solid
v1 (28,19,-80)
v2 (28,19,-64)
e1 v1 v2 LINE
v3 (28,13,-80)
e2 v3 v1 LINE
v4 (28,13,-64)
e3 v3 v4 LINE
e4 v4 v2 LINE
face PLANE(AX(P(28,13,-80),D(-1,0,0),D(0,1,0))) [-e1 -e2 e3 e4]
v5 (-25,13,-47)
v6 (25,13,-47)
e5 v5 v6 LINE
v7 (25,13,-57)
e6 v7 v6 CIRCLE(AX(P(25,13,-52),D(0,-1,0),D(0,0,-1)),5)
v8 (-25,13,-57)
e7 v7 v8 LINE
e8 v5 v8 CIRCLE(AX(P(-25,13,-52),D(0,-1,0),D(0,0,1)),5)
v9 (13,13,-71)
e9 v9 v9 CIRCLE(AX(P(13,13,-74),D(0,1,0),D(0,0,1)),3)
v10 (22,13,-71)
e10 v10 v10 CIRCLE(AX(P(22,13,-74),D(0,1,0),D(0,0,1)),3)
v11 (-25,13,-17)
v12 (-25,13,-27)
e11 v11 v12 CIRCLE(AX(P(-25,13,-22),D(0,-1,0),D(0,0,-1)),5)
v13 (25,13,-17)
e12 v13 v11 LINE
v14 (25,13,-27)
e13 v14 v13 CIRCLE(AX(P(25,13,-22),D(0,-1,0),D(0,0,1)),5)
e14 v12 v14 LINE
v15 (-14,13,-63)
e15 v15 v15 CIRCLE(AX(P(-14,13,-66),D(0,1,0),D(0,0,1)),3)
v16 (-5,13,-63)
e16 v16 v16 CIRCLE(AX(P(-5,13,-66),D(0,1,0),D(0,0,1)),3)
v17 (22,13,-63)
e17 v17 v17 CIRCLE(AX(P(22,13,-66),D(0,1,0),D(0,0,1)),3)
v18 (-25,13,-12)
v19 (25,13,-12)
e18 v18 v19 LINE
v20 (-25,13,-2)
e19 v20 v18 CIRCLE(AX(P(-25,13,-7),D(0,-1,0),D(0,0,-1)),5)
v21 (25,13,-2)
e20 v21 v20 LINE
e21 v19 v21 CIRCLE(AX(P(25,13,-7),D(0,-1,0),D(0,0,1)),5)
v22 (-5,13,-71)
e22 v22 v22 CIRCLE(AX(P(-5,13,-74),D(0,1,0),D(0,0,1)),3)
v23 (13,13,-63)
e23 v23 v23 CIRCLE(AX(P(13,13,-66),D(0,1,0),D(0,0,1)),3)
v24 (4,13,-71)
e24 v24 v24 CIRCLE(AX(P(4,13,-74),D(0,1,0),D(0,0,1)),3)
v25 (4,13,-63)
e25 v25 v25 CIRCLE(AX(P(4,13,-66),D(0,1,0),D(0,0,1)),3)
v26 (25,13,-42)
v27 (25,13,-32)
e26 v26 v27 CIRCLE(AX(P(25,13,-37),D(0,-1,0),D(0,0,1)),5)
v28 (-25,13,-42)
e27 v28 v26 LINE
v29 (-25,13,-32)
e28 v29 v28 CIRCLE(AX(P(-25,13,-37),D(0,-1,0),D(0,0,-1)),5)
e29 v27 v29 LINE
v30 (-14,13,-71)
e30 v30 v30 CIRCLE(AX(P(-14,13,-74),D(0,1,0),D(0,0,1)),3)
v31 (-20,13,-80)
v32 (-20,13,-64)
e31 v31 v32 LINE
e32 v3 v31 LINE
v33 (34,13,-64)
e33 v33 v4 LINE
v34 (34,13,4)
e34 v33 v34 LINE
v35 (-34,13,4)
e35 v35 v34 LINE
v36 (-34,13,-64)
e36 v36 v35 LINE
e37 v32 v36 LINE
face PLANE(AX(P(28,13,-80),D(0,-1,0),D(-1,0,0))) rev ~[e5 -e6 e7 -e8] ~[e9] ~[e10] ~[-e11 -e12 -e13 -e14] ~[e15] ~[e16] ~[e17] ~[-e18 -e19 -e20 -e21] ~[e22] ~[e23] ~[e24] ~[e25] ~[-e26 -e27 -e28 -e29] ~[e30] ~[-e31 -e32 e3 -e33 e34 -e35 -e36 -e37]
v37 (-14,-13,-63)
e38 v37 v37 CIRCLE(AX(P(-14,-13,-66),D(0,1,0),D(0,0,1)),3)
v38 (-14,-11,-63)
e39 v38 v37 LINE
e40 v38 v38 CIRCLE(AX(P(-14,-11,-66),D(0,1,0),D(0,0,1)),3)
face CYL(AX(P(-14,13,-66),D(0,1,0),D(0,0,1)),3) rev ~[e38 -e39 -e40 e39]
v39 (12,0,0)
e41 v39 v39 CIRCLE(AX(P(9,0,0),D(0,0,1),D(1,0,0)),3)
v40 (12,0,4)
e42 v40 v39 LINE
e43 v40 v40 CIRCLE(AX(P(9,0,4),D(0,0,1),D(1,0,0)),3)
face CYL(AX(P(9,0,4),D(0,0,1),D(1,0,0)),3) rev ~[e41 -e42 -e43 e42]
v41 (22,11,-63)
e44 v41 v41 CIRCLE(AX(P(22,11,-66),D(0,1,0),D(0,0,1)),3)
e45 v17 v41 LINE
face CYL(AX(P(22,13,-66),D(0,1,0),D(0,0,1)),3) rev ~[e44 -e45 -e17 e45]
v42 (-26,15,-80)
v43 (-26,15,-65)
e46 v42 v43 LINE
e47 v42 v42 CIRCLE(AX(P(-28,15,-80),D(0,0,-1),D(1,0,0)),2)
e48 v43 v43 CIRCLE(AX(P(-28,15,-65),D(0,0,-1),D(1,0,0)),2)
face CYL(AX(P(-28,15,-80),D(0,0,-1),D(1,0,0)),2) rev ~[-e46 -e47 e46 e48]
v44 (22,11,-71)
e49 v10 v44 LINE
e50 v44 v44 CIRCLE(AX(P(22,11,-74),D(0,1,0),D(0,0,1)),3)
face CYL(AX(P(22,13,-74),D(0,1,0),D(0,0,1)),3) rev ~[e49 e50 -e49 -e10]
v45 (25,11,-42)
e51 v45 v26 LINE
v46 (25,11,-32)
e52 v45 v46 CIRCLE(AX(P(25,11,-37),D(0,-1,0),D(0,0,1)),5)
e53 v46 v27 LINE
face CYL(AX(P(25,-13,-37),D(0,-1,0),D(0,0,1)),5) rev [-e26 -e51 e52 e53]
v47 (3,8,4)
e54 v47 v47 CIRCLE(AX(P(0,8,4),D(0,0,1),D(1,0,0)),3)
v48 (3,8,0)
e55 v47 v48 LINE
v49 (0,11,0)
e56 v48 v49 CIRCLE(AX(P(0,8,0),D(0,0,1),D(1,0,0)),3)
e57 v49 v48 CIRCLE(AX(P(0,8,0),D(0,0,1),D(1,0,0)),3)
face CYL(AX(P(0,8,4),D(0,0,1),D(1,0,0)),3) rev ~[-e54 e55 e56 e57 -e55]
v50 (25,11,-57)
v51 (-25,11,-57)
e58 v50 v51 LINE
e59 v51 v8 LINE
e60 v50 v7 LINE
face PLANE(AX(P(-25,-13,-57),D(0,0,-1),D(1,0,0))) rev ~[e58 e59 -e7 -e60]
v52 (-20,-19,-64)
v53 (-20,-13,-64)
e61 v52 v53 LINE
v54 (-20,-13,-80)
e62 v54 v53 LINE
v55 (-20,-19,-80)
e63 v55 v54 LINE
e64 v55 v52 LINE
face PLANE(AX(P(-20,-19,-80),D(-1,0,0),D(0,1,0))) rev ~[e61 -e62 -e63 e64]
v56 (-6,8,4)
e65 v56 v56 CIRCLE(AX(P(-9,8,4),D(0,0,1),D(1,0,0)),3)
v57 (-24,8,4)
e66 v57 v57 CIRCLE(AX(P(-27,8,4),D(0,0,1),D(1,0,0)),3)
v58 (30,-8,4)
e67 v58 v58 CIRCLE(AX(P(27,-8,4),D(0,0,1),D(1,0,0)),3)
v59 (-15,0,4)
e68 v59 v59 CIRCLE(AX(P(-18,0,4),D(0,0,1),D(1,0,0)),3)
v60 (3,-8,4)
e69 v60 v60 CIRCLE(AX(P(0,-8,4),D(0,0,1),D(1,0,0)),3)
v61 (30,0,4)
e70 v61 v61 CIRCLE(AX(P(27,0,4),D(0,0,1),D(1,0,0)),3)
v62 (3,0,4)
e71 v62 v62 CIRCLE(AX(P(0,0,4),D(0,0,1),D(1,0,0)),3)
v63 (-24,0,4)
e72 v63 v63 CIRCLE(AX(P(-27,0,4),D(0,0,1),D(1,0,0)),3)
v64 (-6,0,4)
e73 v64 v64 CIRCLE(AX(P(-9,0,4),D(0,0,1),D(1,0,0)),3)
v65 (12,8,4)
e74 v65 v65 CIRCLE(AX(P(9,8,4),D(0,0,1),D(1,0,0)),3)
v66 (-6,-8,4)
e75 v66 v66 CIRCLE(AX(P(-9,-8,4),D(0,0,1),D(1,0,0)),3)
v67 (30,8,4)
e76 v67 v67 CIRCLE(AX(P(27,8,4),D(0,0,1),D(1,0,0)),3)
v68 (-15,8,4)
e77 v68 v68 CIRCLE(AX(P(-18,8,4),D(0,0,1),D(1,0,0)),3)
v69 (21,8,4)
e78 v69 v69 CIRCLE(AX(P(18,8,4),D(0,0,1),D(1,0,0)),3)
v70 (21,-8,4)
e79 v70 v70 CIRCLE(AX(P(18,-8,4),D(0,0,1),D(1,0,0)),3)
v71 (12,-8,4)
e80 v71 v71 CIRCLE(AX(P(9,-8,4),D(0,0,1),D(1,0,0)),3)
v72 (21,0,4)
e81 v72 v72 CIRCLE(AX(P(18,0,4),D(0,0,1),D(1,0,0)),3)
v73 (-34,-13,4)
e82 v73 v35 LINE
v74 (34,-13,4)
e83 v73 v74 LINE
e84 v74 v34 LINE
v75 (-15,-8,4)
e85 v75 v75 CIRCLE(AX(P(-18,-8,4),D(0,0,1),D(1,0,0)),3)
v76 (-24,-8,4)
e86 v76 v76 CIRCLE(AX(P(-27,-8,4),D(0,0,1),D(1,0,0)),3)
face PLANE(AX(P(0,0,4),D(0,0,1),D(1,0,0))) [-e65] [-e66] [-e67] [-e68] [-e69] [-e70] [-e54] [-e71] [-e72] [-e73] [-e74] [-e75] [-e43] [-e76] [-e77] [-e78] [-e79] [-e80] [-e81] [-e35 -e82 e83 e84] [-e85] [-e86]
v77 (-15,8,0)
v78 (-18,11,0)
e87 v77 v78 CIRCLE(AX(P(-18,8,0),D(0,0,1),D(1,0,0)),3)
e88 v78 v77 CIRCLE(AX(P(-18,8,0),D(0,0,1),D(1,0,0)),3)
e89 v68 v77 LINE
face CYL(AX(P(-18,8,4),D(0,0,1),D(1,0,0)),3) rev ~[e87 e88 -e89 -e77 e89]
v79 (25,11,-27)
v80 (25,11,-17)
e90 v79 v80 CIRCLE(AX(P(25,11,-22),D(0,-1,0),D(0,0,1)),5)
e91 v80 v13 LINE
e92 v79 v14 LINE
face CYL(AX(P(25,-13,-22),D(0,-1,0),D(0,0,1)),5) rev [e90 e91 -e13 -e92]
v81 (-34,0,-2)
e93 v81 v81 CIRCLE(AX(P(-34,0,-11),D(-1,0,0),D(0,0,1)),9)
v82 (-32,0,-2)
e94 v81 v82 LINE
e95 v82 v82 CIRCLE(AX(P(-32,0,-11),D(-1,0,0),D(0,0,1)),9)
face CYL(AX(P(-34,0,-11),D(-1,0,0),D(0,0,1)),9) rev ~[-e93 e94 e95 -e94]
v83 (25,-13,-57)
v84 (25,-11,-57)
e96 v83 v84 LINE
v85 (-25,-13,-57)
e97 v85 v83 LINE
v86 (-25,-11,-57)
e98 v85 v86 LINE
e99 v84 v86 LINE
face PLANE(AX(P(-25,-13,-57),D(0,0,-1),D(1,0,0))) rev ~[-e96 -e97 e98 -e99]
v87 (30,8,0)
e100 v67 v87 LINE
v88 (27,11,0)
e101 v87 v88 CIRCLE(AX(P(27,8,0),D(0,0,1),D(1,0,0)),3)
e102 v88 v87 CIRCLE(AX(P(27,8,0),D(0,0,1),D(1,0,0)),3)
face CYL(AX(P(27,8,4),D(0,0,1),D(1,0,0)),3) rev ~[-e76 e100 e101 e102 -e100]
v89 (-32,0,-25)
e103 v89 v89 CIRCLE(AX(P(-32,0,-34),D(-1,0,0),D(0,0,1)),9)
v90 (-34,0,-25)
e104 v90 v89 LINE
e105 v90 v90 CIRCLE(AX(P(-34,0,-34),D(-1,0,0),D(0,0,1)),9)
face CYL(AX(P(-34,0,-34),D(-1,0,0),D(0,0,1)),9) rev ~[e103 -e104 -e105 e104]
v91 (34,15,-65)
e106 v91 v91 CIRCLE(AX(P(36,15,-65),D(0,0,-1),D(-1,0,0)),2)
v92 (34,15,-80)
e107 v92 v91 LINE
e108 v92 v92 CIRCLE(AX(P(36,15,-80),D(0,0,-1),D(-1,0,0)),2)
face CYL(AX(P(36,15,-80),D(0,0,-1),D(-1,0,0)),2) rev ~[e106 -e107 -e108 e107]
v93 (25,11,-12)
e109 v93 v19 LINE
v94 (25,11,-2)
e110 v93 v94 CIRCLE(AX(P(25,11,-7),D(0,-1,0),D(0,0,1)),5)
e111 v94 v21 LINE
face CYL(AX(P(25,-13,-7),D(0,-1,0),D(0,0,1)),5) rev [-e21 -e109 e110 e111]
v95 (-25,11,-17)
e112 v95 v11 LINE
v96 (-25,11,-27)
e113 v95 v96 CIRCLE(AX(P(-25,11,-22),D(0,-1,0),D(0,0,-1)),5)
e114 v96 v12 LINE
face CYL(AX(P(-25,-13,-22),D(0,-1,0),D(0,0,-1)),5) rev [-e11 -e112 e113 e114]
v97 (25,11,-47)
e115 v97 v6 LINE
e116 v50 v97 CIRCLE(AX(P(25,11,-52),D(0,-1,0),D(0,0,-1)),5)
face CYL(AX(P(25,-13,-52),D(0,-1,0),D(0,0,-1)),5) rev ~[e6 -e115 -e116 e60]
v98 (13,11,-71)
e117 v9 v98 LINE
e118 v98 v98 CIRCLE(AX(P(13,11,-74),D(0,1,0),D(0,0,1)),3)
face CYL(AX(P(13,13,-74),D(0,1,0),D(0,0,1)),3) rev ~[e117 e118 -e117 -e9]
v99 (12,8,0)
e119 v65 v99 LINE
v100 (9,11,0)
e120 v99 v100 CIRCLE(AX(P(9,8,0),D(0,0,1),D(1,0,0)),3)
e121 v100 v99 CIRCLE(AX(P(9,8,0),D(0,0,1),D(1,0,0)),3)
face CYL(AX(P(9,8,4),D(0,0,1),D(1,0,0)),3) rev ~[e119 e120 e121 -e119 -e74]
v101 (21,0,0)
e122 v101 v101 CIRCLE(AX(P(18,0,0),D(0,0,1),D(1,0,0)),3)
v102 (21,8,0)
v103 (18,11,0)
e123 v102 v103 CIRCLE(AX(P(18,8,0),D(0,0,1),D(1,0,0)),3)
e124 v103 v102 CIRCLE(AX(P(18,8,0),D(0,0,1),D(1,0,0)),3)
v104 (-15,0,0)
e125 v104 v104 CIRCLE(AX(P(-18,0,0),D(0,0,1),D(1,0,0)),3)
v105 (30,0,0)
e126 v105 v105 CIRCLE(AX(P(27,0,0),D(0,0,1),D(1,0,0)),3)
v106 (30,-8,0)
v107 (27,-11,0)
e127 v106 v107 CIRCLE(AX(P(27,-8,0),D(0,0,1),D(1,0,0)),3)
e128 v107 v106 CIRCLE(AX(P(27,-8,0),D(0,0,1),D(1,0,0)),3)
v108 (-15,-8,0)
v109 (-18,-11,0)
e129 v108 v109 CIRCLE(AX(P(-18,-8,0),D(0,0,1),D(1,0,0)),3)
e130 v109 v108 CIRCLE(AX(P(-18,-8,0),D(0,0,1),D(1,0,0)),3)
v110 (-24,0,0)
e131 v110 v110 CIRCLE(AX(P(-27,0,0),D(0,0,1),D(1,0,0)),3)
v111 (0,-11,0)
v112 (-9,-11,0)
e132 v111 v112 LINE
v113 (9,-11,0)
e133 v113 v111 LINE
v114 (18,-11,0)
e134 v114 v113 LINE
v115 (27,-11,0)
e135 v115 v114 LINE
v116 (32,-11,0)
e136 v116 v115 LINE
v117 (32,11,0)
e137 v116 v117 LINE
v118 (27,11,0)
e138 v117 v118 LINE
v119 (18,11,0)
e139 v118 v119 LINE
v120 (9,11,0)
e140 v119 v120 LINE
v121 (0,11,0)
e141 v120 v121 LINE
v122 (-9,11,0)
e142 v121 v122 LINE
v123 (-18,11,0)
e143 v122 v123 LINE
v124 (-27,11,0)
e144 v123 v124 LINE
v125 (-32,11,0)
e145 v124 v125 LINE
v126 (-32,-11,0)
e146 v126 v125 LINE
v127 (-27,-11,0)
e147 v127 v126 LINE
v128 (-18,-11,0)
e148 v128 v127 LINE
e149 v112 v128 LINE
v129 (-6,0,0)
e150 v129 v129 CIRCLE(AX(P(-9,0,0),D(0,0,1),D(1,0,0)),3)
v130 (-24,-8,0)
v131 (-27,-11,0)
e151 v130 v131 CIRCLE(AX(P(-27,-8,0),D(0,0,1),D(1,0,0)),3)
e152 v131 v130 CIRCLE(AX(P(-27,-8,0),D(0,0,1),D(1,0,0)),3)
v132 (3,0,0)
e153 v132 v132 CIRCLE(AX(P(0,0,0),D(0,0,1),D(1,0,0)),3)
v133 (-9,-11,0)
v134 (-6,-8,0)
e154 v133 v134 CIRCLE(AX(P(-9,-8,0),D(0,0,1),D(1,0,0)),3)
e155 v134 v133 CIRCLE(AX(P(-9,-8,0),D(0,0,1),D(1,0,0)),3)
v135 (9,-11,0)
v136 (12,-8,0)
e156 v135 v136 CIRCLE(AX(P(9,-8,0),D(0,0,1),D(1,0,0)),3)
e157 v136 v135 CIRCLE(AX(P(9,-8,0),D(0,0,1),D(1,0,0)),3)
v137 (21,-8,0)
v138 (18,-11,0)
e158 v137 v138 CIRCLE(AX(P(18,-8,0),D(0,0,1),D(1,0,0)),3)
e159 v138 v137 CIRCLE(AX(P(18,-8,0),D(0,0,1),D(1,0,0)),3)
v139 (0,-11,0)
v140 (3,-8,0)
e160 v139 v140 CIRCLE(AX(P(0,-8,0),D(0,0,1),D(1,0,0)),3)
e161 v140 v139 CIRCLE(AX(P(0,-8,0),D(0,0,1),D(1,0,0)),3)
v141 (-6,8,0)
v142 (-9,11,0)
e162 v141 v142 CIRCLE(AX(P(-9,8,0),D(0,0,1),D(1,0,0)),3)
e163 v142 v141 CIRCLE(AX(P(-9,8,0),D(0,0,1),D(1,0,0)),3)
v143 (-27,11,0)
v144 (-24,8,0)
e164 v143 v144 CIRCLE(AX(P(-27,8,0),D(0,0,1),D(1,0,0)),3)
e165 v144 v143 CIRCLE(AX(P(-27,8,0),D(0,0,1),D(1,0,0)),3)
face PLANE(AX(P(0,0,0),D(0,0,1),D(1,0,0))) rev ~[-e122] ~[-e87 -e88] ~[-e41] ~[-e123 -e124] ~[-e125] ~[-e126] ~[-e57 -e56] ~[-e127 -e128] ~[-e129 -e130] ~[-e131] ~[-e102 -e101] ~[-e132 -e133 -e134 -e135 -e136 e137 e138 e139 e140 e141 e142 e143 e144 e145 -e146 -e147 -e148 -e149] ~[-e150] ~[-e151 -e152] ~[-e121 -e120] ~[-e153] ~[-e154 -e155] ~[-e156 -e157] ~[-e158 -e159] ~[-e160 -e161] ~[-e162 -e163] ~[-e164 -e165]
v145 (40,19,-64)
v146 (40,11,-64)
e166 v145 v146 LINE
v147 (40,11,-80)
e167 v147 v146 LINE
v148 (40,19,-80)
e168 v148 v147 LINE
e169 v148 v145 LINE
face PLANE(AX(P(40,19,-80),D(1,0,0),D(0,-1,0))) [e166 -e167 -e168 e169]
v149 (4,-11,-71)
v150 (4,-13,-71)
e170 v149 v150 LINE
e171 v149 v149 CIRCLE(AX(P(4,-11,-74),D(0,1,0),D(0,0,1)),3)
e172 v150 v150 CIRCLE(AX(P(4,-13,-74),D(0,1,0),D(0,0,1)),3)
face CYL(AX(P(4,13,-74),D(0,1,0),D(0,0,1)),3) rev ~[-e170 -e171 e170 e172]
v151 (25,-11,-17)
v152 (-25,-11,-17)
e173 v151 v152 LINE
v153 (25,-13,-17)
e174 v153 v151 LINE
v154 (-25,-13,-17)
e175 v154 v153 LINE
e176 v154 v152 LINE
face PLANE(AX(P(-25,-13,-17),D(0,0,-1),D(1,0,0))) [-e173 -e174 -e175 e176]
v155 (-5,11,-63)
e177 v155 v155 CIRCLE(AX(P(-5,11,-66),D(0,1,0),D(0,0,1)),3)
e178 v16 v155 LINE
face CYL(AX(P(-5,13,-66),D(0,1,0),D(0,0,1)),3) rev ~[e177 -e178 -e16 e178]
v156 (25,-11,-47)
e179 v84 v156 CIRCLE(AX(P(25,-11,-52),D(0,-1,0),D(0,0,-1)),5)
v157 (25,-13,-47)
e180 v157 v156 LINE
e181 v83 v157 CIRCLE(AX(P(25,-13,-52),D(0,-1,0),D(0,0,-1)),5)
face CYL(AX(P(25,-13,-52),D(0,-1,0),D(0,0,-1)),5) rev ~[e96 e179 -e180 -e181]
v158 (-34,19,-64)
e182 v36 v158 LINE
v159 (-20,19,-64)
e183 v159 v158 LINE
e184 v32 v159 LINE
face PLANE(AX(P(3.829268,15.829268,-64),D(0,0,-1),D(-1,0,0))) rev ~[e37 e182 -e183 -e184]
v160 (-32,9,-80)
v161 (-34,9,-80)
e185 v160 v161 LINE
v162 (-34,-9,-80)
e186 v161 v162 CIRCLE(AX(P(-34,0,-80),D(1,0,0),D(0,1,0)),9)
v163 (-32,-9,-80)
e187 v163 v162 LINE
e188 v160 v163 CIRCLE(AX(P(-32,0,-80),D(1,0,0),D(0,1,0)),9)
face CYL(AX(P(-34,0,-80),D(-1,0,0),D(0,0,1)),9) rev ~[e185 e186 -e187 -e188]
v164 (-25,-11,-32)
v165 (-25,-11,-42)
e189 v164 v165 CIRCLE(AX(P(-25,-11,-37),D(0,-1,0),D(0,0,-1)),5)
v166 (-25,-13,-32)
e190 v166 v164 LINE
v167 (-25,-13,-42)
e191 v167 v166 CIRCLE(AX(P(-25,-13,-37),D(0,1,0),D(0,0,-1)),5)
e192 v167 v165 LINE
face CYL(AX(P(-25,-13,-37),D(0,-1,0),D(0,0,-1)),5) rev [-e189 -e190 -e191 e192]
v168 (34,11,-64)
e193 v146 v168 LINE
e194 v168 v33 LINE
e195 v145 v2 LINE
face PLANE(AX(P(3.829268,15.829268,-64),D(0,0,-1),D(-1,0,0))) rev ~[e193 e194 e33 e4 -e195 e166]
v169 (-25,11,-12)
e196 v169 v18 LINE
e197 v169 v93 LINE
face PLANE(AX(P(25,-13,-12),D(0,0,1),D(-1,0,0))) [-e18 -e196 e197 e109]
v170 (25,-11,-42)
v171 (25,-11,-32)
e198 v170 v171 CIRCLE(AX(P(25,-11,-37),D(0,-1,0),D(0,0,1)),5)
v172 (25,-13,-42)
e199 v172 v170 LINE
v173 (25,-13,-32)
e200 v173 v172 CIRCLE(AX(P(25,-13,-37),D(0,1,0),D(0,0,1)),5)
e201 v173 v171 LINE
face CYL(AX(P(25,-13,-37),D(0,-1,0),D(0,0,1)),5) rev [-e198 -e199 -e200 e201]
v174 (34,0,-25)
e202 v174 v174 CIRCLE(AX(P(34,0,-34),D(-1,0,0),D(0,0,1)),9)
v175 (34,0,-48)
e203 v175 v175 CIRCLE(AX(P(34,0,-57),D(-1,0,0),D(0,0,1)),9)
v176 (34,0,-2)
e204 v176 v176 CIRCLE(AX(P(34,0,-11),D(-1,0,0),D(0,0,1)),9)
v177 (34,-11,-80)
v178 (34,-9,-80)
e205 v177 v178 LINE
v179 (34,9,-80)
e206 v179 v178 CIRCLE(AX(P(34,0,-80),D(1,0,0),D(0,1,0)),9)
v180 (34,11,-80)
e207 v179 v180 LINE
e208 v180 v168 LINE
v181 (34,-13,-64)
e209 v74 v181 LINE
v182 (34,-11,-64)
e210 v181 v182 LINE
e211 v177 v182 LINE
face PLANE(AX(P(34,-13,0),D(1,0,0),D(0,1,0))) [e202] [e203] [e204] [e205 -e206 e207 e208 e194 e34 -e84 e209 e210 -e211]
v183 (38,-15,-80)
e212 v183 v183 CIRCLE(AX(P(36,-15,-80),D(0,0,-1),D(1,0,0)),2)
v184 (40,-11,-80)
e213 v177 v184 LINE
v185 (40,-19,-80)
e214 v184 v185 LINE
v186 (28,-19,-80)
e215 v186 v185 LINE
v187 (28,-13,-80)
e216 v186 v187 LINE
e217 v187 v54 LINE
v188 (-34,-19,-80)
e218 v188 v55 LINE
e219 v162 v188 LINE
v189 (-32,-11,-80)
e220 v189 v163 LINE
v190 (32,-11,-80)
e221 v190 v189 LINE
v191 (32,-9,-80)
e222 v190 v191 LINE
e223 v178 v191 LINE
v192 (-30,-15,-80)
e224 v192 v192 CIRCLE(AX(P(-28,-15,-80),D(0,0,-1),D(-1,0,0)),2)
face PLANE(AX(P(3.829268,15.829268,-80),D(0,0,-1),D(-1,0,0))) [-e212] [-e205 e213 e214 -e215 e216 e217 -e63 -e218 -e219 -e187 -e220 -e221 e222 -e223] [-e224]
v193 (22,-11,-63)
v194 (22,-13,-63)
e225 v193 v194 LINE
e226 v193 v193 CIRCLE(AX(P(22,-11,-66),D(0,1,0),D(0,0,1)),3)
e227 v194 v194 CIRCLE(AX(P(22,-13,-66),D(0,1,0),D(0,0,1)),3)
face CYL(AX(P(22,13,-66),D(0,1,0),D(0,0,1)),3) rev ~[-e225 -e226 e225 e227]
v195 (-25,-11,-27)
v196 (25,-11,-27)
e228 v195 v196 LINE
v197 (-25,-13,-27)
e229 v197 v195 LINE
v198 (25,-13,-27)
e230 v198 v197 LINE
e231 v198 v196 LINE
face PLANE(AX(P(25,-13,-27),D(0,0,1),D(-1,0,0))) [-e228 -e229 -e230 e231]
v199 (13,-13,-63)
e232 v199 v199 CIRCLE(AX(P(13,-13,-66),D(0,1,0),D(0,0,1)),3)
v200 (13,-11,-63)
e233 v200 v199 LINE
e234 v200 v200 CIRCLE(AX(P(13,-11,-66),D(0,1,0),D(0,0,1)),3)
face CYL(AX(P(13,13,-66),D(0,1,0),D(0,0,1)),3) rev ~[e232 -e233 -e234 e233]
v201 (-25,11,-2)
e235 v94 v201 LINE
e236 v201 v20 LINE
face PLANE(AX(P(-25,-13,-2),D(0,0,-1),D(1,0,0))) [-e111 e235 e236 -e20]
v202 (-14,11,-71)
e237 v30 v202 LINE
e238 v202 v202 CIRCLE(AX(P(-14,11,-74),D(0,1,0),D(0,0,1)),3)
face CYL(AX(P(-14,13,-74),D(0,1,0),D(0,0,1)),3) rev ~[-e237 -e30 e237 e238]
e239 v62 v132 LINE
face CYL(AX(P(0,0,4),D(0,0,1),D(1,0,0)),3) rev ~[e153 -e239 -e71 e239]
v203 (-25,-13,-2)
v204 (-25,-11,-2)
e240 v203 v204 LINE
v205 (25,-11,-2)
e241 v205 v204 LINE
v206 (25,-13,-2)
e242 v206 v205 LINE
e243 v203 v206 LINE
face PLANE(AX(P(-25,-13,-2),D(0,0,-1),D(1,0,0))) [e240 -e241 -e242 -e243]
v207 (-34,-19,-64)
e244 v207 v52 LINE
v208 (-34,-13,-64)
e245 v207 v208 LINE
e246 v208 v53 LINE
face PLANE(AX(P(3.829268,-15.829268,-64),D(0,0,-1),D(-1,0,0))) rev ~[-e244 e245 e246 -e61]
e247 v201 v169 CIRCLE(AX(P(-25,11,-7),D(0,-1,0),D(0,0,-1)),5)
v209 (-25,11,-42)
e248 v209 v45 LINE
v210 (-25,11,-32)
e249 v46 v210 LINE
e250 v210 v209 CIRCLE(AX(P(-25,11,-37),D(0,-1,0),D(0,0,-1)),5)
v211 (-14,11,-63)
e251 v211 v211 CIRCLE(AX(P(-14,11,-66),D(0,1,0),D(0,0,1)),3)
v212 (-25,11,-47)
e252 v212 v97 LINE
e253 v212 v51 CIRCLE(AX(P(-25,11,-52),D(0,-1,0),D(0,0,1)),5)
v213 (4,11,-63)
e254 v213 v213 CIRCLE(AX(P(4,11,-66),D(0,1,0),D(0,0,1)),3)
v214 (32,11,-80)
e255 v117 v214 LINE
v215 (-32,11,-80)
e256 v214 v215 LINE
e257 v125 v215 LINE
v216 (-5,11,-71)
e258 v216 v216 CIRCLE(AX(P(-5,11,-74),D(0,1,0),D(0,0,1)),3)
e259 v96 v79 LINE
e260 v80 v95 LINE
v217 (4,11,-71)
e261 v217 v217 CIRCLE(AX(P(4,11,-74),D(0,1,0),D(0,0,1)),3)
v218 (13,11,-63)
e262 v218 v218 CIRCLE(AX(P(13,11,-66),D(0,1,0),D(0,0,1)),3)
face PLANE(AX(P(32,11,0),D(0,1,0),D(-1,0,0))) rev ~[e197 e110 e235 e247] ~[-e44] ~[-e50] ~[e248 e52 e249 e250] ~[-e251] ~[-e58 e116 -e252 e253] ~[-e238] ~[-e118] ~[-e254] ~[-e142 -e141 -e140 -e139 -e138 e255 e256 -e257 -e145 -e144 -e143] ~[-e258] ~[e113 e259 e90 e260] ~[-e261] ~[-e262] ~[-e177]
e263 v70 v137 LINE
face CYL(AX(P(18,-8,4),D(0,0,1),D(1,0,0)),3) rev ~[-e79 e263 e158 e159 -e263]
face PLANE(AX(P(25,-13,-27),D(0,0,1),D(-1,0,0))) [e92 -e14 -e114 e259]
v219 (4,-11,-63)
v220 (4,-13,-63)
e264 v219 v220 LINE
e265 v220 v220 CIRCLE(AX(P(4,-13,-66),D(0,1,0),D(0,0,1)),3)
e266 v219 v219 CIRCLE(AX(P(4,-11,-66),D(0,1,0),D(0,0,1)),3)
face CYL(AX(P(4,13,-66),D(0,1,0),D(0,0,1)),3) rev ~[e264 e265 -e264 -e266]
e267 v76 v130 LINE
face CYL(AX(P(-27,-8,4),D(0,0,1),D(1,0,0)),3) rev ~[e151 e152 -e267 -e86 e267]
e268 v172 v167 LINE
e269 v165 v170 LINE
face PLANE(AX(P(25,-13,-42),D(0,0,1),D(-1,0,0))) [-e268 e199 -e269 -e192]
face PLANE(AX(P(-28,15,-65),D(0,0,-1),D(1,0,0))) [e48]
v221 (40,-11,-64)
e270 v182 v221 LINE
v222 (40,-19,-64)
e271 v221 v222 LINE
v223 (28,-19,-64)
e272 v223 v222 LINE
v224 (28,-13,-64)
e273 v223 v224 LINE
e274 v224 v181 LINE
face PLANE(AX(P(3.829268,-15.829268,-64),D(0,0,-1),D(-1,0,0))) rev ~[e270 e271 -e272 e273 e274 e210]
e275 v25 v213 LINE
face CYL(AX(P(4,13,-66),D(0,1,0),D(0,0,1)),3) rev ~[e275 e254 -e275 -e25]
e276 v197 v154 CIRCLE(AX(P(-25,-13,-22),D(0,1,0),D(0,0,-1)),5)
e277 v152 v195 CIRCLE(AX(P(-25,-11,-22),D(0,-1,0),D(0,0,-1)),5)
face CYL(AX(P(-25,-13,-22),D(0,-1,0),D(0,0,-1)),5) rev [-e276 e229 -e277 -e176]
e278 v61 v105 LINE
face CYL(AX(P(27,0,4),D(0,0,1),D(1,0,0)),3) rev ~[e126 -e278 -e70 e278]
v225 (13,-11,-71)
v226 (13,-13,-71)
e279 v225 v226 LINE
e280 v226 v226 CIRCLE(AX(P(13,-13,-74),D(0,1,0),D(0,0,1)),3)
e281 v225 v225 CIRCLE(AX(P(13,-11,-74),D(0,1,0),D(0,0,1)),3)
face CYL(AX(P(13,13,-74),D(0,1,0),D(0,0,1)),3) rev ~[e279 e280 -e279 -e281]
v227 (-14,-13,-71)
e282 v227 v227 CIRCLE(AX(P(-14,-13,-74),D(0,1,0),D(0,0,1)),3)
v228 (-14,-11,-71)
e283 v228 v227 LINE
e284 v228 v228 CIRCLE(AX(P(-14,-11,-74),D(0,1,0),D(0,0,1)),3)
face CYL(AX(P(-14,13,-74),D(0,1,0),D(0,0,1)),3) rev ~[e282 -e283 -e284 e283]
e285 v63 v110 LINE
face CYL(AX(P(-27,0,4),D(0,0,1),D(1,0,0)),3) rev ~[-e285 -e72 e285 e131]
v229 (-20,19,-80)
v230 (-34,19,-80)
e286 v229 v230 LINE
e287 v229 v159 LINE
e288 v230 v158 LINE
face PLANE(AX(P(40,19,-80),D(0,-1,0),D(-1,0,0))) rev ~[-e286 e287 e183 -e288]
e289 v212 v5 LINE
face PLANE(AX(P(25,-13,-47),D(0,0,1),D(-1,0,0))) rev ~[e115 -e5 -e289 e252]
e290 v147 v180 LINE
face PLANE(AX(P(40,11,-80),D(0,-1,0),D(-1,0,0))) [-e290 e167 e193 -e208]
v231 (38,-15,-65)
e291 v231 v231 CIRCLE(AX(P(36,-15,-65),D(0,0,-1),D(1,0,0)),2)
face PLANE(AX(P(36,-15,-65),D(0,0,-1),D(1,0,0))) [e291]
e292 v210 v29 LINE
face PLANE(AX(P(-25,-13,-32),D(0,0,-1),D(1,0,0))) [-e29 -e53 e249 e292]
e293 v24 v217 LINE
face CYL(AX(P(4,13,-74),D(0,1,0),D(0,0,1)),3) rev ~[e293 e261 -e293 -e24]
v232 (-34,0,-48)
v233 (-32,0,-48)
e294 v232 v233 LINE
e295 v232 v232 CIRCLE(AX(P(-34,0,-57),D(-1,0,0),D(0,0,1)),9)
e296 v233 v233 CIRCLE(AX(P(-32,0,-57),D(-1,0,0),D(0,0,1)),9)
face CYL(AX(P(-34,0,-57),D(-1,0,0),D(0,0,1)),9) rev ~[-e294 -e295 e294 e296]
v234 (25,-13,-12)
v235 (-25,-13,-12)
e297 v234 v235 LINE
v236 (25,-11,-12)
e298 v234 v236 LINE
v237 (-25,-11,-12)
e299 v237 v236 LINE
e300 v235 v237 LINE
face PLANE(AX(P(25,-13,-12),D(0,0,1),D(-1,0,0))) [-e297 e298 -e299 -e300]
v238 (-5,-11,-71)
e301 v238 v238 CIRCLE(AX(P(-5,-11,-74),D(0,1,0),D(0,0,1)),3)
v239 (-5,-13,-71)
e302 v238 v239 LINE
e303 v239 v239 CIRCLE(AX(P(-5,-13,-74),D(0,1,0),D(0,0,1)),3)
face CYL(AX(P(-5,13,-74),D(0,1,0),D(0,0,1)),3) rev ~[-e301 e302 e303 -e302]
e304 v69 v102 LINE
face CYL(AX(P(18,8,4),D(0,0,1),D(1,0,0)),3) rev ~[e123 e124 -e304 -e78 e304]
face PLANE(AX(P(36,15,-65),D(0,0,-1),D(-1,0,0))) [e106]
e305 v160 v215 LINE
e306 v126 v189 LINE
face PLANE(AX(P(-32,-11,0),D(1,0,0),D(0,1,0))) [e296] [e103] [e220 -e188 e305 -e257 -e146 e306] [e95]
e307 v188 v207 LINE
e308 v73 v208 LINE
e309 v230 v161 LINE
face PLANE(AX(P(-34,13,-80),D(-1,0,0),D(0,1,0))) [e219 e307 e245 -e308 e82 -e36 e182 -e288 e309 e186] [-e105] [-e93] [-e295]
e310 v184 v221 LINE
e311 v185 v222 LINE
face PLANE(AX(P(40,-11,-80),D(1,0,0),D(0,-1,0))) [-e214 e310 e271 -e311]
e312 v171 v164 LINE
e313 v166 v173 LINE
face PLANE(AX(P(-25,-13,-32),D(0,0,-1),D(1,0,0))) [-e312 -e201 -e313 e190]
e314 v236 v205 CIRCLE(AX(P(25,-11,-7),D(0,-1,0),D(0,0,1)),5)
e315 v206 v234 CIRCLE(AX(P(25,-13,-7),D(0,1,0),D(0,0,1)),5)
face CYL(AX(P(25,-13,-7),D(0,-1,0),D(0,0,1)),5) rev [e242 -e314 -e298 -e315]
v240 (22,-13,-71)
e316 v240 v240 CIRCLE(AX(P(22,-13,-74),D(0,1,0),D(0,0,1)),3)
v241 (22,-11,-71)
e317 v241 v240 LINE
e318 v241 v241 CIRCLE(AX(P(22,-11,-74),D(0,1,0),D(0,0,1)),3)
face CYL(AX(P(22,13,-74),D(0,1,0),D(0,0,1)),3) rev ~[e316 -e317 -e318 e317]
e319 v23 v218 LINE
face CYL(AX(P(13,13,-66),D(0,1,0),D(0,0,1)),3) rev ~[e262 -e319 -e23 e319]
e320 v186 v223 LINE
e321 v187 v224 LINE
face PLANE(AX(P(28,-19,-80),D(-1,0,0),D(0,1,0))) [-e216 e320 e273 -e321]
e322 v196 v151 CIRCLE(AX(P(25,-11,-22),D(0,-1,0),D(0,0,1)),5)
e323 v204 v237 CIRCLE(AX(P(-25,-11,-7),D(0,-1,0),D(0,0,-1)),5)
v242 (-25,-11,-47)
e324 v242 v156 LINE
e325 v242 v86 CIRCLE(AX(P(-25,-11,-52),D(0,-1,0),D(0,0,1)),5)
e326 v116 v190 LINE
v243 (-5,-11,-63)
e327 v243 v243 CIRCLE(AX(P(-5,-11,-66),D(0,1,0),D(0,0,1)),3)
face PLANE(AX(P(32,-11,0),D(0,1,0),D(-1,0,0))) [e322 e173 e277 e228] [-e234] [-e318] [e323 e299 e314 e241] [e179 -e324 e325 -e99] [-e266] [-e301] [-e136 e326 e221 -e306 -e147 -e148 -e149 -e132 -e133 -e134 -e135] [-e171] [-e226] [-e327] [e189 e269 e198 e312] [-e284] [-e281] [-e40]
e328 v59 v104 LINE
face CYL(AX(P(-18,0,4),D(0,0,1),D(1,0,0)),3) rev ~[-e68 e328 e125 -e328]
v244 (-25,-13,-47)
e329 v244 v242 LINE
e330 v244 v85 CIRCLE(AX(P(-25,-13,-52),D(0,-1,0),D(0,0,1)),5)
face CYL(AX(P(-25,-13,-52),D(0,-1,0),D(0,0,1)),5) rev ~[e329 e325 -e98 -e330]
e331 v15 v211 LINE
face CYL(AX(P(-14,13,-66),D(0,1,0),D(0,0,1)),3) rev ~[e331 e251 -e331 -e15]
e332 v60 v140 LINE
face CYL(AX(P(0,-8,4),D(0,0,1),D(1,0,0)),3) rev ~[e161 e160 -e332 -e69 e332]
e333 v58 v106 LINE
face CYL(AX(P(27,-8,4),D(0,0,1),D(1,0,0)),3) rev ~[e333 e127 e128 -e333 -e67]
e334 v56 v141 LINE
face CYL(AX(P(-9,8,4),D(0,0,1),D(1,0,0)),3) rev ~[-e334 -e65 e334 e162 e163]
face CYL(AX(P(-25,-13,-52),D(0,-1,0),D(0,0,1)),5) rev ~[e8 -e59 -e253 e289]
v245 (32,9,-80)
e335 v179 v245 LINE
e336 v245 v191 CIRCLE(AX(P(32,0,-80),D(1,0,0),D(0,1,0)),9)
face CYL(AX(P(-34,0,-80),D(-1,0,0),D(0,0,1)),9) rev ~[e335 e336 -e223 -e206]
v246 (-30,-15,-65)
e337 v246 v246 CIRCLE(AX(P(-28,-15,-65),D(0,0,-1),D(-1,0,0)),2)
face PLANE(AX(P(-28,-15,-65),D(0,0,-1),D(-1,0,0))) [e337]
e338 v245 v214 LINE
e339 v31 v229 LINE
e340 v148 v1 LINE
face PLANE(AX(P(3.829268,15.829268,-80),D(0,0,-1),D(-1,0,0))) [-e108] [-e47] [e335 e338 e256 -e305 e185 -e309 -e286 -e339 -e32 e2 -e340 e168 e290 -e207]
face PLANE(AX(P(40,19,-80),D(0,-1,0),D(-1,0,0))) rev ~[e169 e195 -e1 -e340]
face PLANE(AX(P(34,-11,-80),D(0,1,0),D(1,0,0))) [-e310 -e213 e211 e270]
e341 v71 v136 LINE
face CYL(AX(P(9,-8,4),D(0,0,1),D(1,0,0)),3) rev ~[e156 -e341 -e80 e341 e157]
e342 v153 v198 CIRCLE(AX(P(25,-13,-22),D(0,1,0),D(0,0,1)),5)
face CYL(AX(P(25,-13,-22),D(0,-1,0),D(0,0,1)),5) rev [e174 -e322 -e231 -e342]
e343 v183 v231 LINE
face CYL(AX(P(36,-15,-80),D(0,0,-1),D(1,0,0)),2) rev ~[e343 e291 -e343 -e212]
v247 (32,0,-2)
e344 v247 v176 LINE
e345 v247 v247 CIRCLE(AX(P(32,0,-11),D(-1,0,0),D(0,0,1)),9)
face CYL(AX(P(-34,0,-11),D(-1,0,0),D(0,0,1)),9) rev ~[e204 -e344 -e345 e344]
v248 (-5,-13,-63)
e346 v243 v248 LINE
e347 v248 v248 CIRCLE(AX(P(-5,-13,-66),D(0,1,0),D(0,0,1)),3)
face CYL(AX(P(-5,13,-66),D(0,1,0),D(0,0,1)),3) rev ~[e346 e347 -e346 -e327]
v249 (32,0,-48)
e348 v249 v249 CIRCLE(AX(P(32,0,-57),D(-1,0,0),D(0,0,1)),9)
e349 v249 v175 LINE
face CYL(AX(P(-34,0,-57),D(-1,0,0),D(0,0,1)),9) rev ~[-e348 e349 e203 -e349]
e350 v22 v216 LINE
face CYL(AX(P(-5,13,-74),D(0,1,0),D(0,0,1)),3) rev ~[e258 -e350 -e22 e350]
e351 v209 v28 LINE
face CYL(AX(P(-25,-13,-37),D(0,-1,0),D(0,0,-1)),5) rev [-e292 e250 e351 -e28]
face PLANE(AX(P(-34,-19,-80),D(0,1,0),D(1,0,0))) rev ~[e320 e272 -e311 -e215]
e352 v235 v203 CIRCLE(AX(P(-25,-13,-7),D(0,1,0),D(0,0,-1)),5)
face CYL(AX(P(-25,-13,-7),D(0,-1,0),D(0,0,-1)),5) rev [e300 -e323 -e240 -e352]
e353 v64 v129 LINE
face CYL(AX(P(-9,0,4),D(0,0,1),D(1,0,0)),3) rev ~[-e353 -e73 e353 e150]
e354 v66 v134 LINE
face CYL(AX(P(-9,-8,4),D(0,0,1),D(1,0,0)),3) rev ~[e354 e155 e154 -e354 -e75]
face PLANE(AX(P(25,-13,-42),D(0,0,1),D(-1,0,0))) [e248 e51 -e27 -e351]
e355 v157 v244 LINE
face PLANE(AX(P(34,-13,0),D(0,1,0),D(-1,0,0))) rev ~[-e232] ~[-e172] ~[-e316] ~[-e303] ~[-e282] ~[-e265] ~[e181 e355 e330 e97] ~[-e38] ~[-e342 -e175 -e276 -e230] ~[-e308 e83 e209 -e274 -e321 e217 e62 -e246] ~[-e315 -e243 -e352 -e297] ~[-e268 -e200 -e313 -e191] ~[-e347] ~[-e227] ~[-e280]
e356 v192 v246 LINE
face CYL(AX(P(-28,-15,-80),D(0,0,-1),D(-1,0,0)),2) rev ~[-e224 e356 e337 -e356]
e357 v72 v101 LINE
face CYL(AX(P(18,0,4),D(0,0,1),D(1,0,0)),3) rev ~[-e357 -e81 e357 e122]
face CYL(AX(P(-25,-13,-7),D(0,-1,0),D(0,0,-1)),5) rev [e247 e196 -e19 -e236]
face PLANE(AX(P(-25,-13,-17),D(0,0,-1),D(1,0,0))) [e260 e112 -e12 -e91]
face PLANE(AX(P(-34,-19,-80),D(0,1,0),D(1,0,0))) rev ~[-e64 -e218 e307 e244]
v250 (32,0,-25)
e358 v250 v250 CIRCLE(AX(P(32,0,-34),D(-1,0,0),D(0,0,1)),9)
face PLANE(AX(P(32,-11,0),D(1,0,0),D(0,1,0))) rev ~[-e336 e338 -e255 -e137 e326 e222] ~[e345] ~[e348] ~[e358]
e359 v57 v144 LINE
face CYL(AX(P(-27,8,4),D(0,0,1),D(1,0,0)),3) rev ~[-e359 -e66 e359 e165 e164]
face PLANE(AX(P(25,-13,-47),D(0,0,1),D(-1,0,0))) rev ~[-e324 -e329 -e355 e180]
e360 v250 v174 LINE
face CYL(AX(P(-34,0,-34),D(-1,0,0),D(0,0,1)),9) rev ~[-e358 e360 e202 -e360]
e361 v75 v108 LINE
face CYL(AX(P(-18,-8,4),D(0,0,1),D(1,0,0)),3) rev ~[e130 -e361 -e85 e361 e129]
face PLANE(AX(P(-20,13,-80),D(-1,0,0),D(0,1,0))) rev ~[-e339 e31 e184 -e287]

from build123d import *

# Parameters (mm, degrees)
SKICA1_W                 = 68
SKICA1_H                 = 26
P_IDAT_VYSUNUT_M1_DEPTH  = 4
SKICA2_W                 = 68
SKICA2_H                 = 26
SKICA2_W_2               = 64
SKICA2_H_2               = 22
P_IDAT_VYSUNUT_M2_DEPTH  = 80
P_IDAT_VYSUNUT_M9_DEPTH  = 16
SKICA3_R                 = 2
ODEBRAT_VYSUNUT_M1_DEPTH = 15
ODEBRAT_VYSUNUT_M2_DEPTH = 95.994736696
SKICA5_R                 = 9
ODEBRAT_VYSUNUT_M3_DEPTH = 111.620974503
SKICA8_W                 = 48
SKICA8_H                 = 6
ODEBRAT_VYSUNUT_M4_DEPTH = 16
SKICA9_R                 = 3
ODEBRAT_VYSUNUT_M5_DEPTH = 4
SKICA10_R                = 3
ODEBRAT_VYSUNUT_M6_DEPTH = 95.994736696


with BuildPart() as part:
    # Skica1 → Přidat vysunutím1 (new body)
    with BuildSketch(Plane.XY):
        Rectangle(SKICA1_W, SKICA1_H)
    extrude(amount=P_IDAT_VYSUNUT_M1_DEPTH)

    # Skica2 → Přidat vysunutím2 (add)
    with BuildSketch(Plane(origin=(0, 0, 0), x_dir=(-1, 0, 0), z_dir=(0, 0, -1))):
        Rectangle(SKICA2_W, SKICA2_H)
        Rectangle(SKICA2_W_2, SKICA2_H_2, mode=Mode.SUBTRACT)
    extrude(amount=P_IDAT_VYSUNUT_M2_DEPTH)

    # Skica7 → Přidat vysunutím9 (add)
    with BuildSketch(Plane.XY.offset(-80)):
        Polygon((3, 19), (40, 19), (40, 11), (34, 11), (34, 13), (-34, 13), (-34, 19), align=None)
        Polygon((-34, -19), (-34, -13), (34, -13), (34, -11), (40, -11), (40, -19), (3, -19), align=None)
    extrude(amount=P_IDAT_VYSUNUT_M9_DEPTH)

    # Skica3 → Odebrat vysunutím1 (cut)
    with BuildSketch(Plane(origin=(0, 0, -80), x_dir=(-1, 0, 0), z_dir=(0, 0, -1))):
        with Locations((-36, 15)):
            Circle(SKICA3_R)
        with Locations(Location((28, 15, 0), (0, 0, 180))):
            Circle(SKICA3_R)
        with Locations((28, -15)):
            Circle(SKICA3_R)
        with Locations(Location((-36, -15, 0), (0, 0, 180))):
            Circle(SKICA3_R)
    extrude(amount=-ODEBRAT_VYSUNUT_M1_DEPTH, mode=Mode.SUBTRACT)

    # Skica4 → Odebrat vysunutím2 (cut, through all)
    with BuildSketch(Plane.XZ.offset(13)):
        with BuildLine():
            Line((-25, -57), (25, -57))
            ThreePointArc((25, -57), (30, -52), (25, -47))
            Line((25, -47), (-25, -47))
            ThreePointArc((-25, -47), (-30, -52), (-25, -57))
        make_face()
        with BuildLine():
            Line((-25, -32), (25, -32))
            ThreePointArc((25, -32), (30, -37), (25, -42))
            Line((25, -42), (-25, -42))
            ThreePointArc((-25, -42), (-30, -37), (-25, -32))
        make_face()
        with BuildLine():
            Line((-25, -17), (25, -17))
            ThreePointArc((25, -17), (30, -22), (25, -27))
            Line((25, -27), (-25, -27))
            ThreePointArc((-25, -27), (-30, -22), (-25, -17))
        make_face()
        with BuildLine():
            Line((-25, -2), (25, -2))
            ThreePointArc((25, -2), (30, -7), (25, -12))
            Line((25, -12), (-25, -12))
            ThreePointArc((-25, -12), (-30, -7), (-25, -2))
        make_face()
    extrude(amount=-ODEBRAT_VYSUNUT_M2_DEPTH, mode=Mode.SUBTRACT)

    # Skica5 → Odebrat vysunutím3 (cut, through all)
    with BuildSketch(Plane.ZY.offset(34)):
        with Locations((-80, 0)):
            Circle(SKICA5_R)
        with Locations((-57, 0)):
            Circle(SKICA5_R)
        with Locations((-34, 0)):
            Circle(SKICA5_R)
        with Locations((-11, 0)):
            Circle(SKICA5_R)
    extrude(amount=-ODEBRAT_VYSUNUT_M3_DEPTH, mode=Mode.SUBTRACT)

    # Skica8 → Odebrat vysunutím4 (cut)
    with BuildSketch(Plane(origin=(0, 0, -80), x_dir=(-1, 0, 0), z_dir=(0, 0, -1))):
        with Locations((-4, 16)):
            Rectangle(SKICA8_W, SKICA8_H)
        with Locations((-4, -16)):
            Rectangle(SKICA8_W, SKICA8_H)
    extrude(amount=-ODEBRAT_VYSUNUT_M4_DEPTH, mode=Mode.SUBTRACT)

    # Skica9 → Odebrat vysunutím5 (cut)
    with BuildSketch(Plane.XY.offset(4)):
        with Locations((-27, 8)):
            Circle(SKICA9_R)
        with Locations((-18, 8)):
            Circle(SKICA9_R)
        with Locations((-9, 8)):
            Circle(SKICA9_R)
        with Locations((0, 8)):
            Circle(SKICA9_R)
        with Locations((9, 8)):
            Circle(SKICA9_R)
        with Locations((18, 8)):
            Circle(SKICA9_R)
        with Locations((27, 8)):
            Circle(SKICA9_R)
        with Locations((-18, 0)):
            Circle(SKICA9_R)
        with Locations((-9, 0)):
            Circle(SKICA9_R)
        Circle(SKICA9_R)
        with Locations((9, 0)):
            Circle(SKICA9_R)
        with Locations((18, 0)):
            Circle(SKICA9_R)
        with Locations((27, 0)):
            Circle(SKICA9_R)
        with Locations((-18, -8)):
            Circle(SKICA9_R)
        with Locations((-9, -8)):
            Circle(SKICA9_R)
        with Locations((0, -8)):
            Circle(SKICA9_R)
        with Locations((9, -8)):
            Circle(SKICA9_R)
        with Locations((18, -8)):
            Circle(SKICA9_R)
        with Locations((27, -8)):
            Circle(SKICA9_R)
        with Locations((-27, 0)):
            Circle(SKICA9_R)
        with Locations((-27, -8)):
            Circle(SKICA9_R)
    extrude(amount=-ODEBRAT_VYSUNUT_M5_DEPTH, mode=Mode.SUBTRACT)

    # Skica10 → Odebrat vysunutím6 (cut, through all)
    with BuildSketch(Plane(origin=(0, 13, 0), x_dir=(1, 0, 0), z_dir=(0, 1, 0))):
        with Locations(Location((-14, 74, 0), (0, 0, 270))):
            Circle(SKICA10_R)
        with Locations(Location((-5, 74, 0), (0, 0, 270))):
            Circle(SKICA10_R)
        with Locations(Location((4, 74, 0), (0, 0, 270))):
            Circle(SKICA10_R)
        with Locations(Location((13, 74, 0), (0, 0, 270))):
            Circle(SKICA10_R)
        with Locations(Location((22, 74, 0), (0, 0, 270))):
            Circle(SKICA10_R)
        with Locations(Location((-5, 66, 0), (0, 0, 270))):
            Circle(SKICA10_R)
        with Locations(Location((4, 66, 0), (0, 0, 270))):
            Circle(SKICA10_R)
        with Locations(Location((13, 66, 0), (0, 0, 270))):
            Circle(SKICA10_R)
        with Locations(Location((22, 66, 0), (0, 0, 270))):
            Circle(SKICA10_R)
        with Locations(Location((-14, 66, 0), (0, 0, 270))):
            Circle(SKICA10_R)
    extrude(amount=-ODEBRAT_VYSUNUT_M6_DEPTH, mode=Mode.SUBTRACT)


solid = part.part
